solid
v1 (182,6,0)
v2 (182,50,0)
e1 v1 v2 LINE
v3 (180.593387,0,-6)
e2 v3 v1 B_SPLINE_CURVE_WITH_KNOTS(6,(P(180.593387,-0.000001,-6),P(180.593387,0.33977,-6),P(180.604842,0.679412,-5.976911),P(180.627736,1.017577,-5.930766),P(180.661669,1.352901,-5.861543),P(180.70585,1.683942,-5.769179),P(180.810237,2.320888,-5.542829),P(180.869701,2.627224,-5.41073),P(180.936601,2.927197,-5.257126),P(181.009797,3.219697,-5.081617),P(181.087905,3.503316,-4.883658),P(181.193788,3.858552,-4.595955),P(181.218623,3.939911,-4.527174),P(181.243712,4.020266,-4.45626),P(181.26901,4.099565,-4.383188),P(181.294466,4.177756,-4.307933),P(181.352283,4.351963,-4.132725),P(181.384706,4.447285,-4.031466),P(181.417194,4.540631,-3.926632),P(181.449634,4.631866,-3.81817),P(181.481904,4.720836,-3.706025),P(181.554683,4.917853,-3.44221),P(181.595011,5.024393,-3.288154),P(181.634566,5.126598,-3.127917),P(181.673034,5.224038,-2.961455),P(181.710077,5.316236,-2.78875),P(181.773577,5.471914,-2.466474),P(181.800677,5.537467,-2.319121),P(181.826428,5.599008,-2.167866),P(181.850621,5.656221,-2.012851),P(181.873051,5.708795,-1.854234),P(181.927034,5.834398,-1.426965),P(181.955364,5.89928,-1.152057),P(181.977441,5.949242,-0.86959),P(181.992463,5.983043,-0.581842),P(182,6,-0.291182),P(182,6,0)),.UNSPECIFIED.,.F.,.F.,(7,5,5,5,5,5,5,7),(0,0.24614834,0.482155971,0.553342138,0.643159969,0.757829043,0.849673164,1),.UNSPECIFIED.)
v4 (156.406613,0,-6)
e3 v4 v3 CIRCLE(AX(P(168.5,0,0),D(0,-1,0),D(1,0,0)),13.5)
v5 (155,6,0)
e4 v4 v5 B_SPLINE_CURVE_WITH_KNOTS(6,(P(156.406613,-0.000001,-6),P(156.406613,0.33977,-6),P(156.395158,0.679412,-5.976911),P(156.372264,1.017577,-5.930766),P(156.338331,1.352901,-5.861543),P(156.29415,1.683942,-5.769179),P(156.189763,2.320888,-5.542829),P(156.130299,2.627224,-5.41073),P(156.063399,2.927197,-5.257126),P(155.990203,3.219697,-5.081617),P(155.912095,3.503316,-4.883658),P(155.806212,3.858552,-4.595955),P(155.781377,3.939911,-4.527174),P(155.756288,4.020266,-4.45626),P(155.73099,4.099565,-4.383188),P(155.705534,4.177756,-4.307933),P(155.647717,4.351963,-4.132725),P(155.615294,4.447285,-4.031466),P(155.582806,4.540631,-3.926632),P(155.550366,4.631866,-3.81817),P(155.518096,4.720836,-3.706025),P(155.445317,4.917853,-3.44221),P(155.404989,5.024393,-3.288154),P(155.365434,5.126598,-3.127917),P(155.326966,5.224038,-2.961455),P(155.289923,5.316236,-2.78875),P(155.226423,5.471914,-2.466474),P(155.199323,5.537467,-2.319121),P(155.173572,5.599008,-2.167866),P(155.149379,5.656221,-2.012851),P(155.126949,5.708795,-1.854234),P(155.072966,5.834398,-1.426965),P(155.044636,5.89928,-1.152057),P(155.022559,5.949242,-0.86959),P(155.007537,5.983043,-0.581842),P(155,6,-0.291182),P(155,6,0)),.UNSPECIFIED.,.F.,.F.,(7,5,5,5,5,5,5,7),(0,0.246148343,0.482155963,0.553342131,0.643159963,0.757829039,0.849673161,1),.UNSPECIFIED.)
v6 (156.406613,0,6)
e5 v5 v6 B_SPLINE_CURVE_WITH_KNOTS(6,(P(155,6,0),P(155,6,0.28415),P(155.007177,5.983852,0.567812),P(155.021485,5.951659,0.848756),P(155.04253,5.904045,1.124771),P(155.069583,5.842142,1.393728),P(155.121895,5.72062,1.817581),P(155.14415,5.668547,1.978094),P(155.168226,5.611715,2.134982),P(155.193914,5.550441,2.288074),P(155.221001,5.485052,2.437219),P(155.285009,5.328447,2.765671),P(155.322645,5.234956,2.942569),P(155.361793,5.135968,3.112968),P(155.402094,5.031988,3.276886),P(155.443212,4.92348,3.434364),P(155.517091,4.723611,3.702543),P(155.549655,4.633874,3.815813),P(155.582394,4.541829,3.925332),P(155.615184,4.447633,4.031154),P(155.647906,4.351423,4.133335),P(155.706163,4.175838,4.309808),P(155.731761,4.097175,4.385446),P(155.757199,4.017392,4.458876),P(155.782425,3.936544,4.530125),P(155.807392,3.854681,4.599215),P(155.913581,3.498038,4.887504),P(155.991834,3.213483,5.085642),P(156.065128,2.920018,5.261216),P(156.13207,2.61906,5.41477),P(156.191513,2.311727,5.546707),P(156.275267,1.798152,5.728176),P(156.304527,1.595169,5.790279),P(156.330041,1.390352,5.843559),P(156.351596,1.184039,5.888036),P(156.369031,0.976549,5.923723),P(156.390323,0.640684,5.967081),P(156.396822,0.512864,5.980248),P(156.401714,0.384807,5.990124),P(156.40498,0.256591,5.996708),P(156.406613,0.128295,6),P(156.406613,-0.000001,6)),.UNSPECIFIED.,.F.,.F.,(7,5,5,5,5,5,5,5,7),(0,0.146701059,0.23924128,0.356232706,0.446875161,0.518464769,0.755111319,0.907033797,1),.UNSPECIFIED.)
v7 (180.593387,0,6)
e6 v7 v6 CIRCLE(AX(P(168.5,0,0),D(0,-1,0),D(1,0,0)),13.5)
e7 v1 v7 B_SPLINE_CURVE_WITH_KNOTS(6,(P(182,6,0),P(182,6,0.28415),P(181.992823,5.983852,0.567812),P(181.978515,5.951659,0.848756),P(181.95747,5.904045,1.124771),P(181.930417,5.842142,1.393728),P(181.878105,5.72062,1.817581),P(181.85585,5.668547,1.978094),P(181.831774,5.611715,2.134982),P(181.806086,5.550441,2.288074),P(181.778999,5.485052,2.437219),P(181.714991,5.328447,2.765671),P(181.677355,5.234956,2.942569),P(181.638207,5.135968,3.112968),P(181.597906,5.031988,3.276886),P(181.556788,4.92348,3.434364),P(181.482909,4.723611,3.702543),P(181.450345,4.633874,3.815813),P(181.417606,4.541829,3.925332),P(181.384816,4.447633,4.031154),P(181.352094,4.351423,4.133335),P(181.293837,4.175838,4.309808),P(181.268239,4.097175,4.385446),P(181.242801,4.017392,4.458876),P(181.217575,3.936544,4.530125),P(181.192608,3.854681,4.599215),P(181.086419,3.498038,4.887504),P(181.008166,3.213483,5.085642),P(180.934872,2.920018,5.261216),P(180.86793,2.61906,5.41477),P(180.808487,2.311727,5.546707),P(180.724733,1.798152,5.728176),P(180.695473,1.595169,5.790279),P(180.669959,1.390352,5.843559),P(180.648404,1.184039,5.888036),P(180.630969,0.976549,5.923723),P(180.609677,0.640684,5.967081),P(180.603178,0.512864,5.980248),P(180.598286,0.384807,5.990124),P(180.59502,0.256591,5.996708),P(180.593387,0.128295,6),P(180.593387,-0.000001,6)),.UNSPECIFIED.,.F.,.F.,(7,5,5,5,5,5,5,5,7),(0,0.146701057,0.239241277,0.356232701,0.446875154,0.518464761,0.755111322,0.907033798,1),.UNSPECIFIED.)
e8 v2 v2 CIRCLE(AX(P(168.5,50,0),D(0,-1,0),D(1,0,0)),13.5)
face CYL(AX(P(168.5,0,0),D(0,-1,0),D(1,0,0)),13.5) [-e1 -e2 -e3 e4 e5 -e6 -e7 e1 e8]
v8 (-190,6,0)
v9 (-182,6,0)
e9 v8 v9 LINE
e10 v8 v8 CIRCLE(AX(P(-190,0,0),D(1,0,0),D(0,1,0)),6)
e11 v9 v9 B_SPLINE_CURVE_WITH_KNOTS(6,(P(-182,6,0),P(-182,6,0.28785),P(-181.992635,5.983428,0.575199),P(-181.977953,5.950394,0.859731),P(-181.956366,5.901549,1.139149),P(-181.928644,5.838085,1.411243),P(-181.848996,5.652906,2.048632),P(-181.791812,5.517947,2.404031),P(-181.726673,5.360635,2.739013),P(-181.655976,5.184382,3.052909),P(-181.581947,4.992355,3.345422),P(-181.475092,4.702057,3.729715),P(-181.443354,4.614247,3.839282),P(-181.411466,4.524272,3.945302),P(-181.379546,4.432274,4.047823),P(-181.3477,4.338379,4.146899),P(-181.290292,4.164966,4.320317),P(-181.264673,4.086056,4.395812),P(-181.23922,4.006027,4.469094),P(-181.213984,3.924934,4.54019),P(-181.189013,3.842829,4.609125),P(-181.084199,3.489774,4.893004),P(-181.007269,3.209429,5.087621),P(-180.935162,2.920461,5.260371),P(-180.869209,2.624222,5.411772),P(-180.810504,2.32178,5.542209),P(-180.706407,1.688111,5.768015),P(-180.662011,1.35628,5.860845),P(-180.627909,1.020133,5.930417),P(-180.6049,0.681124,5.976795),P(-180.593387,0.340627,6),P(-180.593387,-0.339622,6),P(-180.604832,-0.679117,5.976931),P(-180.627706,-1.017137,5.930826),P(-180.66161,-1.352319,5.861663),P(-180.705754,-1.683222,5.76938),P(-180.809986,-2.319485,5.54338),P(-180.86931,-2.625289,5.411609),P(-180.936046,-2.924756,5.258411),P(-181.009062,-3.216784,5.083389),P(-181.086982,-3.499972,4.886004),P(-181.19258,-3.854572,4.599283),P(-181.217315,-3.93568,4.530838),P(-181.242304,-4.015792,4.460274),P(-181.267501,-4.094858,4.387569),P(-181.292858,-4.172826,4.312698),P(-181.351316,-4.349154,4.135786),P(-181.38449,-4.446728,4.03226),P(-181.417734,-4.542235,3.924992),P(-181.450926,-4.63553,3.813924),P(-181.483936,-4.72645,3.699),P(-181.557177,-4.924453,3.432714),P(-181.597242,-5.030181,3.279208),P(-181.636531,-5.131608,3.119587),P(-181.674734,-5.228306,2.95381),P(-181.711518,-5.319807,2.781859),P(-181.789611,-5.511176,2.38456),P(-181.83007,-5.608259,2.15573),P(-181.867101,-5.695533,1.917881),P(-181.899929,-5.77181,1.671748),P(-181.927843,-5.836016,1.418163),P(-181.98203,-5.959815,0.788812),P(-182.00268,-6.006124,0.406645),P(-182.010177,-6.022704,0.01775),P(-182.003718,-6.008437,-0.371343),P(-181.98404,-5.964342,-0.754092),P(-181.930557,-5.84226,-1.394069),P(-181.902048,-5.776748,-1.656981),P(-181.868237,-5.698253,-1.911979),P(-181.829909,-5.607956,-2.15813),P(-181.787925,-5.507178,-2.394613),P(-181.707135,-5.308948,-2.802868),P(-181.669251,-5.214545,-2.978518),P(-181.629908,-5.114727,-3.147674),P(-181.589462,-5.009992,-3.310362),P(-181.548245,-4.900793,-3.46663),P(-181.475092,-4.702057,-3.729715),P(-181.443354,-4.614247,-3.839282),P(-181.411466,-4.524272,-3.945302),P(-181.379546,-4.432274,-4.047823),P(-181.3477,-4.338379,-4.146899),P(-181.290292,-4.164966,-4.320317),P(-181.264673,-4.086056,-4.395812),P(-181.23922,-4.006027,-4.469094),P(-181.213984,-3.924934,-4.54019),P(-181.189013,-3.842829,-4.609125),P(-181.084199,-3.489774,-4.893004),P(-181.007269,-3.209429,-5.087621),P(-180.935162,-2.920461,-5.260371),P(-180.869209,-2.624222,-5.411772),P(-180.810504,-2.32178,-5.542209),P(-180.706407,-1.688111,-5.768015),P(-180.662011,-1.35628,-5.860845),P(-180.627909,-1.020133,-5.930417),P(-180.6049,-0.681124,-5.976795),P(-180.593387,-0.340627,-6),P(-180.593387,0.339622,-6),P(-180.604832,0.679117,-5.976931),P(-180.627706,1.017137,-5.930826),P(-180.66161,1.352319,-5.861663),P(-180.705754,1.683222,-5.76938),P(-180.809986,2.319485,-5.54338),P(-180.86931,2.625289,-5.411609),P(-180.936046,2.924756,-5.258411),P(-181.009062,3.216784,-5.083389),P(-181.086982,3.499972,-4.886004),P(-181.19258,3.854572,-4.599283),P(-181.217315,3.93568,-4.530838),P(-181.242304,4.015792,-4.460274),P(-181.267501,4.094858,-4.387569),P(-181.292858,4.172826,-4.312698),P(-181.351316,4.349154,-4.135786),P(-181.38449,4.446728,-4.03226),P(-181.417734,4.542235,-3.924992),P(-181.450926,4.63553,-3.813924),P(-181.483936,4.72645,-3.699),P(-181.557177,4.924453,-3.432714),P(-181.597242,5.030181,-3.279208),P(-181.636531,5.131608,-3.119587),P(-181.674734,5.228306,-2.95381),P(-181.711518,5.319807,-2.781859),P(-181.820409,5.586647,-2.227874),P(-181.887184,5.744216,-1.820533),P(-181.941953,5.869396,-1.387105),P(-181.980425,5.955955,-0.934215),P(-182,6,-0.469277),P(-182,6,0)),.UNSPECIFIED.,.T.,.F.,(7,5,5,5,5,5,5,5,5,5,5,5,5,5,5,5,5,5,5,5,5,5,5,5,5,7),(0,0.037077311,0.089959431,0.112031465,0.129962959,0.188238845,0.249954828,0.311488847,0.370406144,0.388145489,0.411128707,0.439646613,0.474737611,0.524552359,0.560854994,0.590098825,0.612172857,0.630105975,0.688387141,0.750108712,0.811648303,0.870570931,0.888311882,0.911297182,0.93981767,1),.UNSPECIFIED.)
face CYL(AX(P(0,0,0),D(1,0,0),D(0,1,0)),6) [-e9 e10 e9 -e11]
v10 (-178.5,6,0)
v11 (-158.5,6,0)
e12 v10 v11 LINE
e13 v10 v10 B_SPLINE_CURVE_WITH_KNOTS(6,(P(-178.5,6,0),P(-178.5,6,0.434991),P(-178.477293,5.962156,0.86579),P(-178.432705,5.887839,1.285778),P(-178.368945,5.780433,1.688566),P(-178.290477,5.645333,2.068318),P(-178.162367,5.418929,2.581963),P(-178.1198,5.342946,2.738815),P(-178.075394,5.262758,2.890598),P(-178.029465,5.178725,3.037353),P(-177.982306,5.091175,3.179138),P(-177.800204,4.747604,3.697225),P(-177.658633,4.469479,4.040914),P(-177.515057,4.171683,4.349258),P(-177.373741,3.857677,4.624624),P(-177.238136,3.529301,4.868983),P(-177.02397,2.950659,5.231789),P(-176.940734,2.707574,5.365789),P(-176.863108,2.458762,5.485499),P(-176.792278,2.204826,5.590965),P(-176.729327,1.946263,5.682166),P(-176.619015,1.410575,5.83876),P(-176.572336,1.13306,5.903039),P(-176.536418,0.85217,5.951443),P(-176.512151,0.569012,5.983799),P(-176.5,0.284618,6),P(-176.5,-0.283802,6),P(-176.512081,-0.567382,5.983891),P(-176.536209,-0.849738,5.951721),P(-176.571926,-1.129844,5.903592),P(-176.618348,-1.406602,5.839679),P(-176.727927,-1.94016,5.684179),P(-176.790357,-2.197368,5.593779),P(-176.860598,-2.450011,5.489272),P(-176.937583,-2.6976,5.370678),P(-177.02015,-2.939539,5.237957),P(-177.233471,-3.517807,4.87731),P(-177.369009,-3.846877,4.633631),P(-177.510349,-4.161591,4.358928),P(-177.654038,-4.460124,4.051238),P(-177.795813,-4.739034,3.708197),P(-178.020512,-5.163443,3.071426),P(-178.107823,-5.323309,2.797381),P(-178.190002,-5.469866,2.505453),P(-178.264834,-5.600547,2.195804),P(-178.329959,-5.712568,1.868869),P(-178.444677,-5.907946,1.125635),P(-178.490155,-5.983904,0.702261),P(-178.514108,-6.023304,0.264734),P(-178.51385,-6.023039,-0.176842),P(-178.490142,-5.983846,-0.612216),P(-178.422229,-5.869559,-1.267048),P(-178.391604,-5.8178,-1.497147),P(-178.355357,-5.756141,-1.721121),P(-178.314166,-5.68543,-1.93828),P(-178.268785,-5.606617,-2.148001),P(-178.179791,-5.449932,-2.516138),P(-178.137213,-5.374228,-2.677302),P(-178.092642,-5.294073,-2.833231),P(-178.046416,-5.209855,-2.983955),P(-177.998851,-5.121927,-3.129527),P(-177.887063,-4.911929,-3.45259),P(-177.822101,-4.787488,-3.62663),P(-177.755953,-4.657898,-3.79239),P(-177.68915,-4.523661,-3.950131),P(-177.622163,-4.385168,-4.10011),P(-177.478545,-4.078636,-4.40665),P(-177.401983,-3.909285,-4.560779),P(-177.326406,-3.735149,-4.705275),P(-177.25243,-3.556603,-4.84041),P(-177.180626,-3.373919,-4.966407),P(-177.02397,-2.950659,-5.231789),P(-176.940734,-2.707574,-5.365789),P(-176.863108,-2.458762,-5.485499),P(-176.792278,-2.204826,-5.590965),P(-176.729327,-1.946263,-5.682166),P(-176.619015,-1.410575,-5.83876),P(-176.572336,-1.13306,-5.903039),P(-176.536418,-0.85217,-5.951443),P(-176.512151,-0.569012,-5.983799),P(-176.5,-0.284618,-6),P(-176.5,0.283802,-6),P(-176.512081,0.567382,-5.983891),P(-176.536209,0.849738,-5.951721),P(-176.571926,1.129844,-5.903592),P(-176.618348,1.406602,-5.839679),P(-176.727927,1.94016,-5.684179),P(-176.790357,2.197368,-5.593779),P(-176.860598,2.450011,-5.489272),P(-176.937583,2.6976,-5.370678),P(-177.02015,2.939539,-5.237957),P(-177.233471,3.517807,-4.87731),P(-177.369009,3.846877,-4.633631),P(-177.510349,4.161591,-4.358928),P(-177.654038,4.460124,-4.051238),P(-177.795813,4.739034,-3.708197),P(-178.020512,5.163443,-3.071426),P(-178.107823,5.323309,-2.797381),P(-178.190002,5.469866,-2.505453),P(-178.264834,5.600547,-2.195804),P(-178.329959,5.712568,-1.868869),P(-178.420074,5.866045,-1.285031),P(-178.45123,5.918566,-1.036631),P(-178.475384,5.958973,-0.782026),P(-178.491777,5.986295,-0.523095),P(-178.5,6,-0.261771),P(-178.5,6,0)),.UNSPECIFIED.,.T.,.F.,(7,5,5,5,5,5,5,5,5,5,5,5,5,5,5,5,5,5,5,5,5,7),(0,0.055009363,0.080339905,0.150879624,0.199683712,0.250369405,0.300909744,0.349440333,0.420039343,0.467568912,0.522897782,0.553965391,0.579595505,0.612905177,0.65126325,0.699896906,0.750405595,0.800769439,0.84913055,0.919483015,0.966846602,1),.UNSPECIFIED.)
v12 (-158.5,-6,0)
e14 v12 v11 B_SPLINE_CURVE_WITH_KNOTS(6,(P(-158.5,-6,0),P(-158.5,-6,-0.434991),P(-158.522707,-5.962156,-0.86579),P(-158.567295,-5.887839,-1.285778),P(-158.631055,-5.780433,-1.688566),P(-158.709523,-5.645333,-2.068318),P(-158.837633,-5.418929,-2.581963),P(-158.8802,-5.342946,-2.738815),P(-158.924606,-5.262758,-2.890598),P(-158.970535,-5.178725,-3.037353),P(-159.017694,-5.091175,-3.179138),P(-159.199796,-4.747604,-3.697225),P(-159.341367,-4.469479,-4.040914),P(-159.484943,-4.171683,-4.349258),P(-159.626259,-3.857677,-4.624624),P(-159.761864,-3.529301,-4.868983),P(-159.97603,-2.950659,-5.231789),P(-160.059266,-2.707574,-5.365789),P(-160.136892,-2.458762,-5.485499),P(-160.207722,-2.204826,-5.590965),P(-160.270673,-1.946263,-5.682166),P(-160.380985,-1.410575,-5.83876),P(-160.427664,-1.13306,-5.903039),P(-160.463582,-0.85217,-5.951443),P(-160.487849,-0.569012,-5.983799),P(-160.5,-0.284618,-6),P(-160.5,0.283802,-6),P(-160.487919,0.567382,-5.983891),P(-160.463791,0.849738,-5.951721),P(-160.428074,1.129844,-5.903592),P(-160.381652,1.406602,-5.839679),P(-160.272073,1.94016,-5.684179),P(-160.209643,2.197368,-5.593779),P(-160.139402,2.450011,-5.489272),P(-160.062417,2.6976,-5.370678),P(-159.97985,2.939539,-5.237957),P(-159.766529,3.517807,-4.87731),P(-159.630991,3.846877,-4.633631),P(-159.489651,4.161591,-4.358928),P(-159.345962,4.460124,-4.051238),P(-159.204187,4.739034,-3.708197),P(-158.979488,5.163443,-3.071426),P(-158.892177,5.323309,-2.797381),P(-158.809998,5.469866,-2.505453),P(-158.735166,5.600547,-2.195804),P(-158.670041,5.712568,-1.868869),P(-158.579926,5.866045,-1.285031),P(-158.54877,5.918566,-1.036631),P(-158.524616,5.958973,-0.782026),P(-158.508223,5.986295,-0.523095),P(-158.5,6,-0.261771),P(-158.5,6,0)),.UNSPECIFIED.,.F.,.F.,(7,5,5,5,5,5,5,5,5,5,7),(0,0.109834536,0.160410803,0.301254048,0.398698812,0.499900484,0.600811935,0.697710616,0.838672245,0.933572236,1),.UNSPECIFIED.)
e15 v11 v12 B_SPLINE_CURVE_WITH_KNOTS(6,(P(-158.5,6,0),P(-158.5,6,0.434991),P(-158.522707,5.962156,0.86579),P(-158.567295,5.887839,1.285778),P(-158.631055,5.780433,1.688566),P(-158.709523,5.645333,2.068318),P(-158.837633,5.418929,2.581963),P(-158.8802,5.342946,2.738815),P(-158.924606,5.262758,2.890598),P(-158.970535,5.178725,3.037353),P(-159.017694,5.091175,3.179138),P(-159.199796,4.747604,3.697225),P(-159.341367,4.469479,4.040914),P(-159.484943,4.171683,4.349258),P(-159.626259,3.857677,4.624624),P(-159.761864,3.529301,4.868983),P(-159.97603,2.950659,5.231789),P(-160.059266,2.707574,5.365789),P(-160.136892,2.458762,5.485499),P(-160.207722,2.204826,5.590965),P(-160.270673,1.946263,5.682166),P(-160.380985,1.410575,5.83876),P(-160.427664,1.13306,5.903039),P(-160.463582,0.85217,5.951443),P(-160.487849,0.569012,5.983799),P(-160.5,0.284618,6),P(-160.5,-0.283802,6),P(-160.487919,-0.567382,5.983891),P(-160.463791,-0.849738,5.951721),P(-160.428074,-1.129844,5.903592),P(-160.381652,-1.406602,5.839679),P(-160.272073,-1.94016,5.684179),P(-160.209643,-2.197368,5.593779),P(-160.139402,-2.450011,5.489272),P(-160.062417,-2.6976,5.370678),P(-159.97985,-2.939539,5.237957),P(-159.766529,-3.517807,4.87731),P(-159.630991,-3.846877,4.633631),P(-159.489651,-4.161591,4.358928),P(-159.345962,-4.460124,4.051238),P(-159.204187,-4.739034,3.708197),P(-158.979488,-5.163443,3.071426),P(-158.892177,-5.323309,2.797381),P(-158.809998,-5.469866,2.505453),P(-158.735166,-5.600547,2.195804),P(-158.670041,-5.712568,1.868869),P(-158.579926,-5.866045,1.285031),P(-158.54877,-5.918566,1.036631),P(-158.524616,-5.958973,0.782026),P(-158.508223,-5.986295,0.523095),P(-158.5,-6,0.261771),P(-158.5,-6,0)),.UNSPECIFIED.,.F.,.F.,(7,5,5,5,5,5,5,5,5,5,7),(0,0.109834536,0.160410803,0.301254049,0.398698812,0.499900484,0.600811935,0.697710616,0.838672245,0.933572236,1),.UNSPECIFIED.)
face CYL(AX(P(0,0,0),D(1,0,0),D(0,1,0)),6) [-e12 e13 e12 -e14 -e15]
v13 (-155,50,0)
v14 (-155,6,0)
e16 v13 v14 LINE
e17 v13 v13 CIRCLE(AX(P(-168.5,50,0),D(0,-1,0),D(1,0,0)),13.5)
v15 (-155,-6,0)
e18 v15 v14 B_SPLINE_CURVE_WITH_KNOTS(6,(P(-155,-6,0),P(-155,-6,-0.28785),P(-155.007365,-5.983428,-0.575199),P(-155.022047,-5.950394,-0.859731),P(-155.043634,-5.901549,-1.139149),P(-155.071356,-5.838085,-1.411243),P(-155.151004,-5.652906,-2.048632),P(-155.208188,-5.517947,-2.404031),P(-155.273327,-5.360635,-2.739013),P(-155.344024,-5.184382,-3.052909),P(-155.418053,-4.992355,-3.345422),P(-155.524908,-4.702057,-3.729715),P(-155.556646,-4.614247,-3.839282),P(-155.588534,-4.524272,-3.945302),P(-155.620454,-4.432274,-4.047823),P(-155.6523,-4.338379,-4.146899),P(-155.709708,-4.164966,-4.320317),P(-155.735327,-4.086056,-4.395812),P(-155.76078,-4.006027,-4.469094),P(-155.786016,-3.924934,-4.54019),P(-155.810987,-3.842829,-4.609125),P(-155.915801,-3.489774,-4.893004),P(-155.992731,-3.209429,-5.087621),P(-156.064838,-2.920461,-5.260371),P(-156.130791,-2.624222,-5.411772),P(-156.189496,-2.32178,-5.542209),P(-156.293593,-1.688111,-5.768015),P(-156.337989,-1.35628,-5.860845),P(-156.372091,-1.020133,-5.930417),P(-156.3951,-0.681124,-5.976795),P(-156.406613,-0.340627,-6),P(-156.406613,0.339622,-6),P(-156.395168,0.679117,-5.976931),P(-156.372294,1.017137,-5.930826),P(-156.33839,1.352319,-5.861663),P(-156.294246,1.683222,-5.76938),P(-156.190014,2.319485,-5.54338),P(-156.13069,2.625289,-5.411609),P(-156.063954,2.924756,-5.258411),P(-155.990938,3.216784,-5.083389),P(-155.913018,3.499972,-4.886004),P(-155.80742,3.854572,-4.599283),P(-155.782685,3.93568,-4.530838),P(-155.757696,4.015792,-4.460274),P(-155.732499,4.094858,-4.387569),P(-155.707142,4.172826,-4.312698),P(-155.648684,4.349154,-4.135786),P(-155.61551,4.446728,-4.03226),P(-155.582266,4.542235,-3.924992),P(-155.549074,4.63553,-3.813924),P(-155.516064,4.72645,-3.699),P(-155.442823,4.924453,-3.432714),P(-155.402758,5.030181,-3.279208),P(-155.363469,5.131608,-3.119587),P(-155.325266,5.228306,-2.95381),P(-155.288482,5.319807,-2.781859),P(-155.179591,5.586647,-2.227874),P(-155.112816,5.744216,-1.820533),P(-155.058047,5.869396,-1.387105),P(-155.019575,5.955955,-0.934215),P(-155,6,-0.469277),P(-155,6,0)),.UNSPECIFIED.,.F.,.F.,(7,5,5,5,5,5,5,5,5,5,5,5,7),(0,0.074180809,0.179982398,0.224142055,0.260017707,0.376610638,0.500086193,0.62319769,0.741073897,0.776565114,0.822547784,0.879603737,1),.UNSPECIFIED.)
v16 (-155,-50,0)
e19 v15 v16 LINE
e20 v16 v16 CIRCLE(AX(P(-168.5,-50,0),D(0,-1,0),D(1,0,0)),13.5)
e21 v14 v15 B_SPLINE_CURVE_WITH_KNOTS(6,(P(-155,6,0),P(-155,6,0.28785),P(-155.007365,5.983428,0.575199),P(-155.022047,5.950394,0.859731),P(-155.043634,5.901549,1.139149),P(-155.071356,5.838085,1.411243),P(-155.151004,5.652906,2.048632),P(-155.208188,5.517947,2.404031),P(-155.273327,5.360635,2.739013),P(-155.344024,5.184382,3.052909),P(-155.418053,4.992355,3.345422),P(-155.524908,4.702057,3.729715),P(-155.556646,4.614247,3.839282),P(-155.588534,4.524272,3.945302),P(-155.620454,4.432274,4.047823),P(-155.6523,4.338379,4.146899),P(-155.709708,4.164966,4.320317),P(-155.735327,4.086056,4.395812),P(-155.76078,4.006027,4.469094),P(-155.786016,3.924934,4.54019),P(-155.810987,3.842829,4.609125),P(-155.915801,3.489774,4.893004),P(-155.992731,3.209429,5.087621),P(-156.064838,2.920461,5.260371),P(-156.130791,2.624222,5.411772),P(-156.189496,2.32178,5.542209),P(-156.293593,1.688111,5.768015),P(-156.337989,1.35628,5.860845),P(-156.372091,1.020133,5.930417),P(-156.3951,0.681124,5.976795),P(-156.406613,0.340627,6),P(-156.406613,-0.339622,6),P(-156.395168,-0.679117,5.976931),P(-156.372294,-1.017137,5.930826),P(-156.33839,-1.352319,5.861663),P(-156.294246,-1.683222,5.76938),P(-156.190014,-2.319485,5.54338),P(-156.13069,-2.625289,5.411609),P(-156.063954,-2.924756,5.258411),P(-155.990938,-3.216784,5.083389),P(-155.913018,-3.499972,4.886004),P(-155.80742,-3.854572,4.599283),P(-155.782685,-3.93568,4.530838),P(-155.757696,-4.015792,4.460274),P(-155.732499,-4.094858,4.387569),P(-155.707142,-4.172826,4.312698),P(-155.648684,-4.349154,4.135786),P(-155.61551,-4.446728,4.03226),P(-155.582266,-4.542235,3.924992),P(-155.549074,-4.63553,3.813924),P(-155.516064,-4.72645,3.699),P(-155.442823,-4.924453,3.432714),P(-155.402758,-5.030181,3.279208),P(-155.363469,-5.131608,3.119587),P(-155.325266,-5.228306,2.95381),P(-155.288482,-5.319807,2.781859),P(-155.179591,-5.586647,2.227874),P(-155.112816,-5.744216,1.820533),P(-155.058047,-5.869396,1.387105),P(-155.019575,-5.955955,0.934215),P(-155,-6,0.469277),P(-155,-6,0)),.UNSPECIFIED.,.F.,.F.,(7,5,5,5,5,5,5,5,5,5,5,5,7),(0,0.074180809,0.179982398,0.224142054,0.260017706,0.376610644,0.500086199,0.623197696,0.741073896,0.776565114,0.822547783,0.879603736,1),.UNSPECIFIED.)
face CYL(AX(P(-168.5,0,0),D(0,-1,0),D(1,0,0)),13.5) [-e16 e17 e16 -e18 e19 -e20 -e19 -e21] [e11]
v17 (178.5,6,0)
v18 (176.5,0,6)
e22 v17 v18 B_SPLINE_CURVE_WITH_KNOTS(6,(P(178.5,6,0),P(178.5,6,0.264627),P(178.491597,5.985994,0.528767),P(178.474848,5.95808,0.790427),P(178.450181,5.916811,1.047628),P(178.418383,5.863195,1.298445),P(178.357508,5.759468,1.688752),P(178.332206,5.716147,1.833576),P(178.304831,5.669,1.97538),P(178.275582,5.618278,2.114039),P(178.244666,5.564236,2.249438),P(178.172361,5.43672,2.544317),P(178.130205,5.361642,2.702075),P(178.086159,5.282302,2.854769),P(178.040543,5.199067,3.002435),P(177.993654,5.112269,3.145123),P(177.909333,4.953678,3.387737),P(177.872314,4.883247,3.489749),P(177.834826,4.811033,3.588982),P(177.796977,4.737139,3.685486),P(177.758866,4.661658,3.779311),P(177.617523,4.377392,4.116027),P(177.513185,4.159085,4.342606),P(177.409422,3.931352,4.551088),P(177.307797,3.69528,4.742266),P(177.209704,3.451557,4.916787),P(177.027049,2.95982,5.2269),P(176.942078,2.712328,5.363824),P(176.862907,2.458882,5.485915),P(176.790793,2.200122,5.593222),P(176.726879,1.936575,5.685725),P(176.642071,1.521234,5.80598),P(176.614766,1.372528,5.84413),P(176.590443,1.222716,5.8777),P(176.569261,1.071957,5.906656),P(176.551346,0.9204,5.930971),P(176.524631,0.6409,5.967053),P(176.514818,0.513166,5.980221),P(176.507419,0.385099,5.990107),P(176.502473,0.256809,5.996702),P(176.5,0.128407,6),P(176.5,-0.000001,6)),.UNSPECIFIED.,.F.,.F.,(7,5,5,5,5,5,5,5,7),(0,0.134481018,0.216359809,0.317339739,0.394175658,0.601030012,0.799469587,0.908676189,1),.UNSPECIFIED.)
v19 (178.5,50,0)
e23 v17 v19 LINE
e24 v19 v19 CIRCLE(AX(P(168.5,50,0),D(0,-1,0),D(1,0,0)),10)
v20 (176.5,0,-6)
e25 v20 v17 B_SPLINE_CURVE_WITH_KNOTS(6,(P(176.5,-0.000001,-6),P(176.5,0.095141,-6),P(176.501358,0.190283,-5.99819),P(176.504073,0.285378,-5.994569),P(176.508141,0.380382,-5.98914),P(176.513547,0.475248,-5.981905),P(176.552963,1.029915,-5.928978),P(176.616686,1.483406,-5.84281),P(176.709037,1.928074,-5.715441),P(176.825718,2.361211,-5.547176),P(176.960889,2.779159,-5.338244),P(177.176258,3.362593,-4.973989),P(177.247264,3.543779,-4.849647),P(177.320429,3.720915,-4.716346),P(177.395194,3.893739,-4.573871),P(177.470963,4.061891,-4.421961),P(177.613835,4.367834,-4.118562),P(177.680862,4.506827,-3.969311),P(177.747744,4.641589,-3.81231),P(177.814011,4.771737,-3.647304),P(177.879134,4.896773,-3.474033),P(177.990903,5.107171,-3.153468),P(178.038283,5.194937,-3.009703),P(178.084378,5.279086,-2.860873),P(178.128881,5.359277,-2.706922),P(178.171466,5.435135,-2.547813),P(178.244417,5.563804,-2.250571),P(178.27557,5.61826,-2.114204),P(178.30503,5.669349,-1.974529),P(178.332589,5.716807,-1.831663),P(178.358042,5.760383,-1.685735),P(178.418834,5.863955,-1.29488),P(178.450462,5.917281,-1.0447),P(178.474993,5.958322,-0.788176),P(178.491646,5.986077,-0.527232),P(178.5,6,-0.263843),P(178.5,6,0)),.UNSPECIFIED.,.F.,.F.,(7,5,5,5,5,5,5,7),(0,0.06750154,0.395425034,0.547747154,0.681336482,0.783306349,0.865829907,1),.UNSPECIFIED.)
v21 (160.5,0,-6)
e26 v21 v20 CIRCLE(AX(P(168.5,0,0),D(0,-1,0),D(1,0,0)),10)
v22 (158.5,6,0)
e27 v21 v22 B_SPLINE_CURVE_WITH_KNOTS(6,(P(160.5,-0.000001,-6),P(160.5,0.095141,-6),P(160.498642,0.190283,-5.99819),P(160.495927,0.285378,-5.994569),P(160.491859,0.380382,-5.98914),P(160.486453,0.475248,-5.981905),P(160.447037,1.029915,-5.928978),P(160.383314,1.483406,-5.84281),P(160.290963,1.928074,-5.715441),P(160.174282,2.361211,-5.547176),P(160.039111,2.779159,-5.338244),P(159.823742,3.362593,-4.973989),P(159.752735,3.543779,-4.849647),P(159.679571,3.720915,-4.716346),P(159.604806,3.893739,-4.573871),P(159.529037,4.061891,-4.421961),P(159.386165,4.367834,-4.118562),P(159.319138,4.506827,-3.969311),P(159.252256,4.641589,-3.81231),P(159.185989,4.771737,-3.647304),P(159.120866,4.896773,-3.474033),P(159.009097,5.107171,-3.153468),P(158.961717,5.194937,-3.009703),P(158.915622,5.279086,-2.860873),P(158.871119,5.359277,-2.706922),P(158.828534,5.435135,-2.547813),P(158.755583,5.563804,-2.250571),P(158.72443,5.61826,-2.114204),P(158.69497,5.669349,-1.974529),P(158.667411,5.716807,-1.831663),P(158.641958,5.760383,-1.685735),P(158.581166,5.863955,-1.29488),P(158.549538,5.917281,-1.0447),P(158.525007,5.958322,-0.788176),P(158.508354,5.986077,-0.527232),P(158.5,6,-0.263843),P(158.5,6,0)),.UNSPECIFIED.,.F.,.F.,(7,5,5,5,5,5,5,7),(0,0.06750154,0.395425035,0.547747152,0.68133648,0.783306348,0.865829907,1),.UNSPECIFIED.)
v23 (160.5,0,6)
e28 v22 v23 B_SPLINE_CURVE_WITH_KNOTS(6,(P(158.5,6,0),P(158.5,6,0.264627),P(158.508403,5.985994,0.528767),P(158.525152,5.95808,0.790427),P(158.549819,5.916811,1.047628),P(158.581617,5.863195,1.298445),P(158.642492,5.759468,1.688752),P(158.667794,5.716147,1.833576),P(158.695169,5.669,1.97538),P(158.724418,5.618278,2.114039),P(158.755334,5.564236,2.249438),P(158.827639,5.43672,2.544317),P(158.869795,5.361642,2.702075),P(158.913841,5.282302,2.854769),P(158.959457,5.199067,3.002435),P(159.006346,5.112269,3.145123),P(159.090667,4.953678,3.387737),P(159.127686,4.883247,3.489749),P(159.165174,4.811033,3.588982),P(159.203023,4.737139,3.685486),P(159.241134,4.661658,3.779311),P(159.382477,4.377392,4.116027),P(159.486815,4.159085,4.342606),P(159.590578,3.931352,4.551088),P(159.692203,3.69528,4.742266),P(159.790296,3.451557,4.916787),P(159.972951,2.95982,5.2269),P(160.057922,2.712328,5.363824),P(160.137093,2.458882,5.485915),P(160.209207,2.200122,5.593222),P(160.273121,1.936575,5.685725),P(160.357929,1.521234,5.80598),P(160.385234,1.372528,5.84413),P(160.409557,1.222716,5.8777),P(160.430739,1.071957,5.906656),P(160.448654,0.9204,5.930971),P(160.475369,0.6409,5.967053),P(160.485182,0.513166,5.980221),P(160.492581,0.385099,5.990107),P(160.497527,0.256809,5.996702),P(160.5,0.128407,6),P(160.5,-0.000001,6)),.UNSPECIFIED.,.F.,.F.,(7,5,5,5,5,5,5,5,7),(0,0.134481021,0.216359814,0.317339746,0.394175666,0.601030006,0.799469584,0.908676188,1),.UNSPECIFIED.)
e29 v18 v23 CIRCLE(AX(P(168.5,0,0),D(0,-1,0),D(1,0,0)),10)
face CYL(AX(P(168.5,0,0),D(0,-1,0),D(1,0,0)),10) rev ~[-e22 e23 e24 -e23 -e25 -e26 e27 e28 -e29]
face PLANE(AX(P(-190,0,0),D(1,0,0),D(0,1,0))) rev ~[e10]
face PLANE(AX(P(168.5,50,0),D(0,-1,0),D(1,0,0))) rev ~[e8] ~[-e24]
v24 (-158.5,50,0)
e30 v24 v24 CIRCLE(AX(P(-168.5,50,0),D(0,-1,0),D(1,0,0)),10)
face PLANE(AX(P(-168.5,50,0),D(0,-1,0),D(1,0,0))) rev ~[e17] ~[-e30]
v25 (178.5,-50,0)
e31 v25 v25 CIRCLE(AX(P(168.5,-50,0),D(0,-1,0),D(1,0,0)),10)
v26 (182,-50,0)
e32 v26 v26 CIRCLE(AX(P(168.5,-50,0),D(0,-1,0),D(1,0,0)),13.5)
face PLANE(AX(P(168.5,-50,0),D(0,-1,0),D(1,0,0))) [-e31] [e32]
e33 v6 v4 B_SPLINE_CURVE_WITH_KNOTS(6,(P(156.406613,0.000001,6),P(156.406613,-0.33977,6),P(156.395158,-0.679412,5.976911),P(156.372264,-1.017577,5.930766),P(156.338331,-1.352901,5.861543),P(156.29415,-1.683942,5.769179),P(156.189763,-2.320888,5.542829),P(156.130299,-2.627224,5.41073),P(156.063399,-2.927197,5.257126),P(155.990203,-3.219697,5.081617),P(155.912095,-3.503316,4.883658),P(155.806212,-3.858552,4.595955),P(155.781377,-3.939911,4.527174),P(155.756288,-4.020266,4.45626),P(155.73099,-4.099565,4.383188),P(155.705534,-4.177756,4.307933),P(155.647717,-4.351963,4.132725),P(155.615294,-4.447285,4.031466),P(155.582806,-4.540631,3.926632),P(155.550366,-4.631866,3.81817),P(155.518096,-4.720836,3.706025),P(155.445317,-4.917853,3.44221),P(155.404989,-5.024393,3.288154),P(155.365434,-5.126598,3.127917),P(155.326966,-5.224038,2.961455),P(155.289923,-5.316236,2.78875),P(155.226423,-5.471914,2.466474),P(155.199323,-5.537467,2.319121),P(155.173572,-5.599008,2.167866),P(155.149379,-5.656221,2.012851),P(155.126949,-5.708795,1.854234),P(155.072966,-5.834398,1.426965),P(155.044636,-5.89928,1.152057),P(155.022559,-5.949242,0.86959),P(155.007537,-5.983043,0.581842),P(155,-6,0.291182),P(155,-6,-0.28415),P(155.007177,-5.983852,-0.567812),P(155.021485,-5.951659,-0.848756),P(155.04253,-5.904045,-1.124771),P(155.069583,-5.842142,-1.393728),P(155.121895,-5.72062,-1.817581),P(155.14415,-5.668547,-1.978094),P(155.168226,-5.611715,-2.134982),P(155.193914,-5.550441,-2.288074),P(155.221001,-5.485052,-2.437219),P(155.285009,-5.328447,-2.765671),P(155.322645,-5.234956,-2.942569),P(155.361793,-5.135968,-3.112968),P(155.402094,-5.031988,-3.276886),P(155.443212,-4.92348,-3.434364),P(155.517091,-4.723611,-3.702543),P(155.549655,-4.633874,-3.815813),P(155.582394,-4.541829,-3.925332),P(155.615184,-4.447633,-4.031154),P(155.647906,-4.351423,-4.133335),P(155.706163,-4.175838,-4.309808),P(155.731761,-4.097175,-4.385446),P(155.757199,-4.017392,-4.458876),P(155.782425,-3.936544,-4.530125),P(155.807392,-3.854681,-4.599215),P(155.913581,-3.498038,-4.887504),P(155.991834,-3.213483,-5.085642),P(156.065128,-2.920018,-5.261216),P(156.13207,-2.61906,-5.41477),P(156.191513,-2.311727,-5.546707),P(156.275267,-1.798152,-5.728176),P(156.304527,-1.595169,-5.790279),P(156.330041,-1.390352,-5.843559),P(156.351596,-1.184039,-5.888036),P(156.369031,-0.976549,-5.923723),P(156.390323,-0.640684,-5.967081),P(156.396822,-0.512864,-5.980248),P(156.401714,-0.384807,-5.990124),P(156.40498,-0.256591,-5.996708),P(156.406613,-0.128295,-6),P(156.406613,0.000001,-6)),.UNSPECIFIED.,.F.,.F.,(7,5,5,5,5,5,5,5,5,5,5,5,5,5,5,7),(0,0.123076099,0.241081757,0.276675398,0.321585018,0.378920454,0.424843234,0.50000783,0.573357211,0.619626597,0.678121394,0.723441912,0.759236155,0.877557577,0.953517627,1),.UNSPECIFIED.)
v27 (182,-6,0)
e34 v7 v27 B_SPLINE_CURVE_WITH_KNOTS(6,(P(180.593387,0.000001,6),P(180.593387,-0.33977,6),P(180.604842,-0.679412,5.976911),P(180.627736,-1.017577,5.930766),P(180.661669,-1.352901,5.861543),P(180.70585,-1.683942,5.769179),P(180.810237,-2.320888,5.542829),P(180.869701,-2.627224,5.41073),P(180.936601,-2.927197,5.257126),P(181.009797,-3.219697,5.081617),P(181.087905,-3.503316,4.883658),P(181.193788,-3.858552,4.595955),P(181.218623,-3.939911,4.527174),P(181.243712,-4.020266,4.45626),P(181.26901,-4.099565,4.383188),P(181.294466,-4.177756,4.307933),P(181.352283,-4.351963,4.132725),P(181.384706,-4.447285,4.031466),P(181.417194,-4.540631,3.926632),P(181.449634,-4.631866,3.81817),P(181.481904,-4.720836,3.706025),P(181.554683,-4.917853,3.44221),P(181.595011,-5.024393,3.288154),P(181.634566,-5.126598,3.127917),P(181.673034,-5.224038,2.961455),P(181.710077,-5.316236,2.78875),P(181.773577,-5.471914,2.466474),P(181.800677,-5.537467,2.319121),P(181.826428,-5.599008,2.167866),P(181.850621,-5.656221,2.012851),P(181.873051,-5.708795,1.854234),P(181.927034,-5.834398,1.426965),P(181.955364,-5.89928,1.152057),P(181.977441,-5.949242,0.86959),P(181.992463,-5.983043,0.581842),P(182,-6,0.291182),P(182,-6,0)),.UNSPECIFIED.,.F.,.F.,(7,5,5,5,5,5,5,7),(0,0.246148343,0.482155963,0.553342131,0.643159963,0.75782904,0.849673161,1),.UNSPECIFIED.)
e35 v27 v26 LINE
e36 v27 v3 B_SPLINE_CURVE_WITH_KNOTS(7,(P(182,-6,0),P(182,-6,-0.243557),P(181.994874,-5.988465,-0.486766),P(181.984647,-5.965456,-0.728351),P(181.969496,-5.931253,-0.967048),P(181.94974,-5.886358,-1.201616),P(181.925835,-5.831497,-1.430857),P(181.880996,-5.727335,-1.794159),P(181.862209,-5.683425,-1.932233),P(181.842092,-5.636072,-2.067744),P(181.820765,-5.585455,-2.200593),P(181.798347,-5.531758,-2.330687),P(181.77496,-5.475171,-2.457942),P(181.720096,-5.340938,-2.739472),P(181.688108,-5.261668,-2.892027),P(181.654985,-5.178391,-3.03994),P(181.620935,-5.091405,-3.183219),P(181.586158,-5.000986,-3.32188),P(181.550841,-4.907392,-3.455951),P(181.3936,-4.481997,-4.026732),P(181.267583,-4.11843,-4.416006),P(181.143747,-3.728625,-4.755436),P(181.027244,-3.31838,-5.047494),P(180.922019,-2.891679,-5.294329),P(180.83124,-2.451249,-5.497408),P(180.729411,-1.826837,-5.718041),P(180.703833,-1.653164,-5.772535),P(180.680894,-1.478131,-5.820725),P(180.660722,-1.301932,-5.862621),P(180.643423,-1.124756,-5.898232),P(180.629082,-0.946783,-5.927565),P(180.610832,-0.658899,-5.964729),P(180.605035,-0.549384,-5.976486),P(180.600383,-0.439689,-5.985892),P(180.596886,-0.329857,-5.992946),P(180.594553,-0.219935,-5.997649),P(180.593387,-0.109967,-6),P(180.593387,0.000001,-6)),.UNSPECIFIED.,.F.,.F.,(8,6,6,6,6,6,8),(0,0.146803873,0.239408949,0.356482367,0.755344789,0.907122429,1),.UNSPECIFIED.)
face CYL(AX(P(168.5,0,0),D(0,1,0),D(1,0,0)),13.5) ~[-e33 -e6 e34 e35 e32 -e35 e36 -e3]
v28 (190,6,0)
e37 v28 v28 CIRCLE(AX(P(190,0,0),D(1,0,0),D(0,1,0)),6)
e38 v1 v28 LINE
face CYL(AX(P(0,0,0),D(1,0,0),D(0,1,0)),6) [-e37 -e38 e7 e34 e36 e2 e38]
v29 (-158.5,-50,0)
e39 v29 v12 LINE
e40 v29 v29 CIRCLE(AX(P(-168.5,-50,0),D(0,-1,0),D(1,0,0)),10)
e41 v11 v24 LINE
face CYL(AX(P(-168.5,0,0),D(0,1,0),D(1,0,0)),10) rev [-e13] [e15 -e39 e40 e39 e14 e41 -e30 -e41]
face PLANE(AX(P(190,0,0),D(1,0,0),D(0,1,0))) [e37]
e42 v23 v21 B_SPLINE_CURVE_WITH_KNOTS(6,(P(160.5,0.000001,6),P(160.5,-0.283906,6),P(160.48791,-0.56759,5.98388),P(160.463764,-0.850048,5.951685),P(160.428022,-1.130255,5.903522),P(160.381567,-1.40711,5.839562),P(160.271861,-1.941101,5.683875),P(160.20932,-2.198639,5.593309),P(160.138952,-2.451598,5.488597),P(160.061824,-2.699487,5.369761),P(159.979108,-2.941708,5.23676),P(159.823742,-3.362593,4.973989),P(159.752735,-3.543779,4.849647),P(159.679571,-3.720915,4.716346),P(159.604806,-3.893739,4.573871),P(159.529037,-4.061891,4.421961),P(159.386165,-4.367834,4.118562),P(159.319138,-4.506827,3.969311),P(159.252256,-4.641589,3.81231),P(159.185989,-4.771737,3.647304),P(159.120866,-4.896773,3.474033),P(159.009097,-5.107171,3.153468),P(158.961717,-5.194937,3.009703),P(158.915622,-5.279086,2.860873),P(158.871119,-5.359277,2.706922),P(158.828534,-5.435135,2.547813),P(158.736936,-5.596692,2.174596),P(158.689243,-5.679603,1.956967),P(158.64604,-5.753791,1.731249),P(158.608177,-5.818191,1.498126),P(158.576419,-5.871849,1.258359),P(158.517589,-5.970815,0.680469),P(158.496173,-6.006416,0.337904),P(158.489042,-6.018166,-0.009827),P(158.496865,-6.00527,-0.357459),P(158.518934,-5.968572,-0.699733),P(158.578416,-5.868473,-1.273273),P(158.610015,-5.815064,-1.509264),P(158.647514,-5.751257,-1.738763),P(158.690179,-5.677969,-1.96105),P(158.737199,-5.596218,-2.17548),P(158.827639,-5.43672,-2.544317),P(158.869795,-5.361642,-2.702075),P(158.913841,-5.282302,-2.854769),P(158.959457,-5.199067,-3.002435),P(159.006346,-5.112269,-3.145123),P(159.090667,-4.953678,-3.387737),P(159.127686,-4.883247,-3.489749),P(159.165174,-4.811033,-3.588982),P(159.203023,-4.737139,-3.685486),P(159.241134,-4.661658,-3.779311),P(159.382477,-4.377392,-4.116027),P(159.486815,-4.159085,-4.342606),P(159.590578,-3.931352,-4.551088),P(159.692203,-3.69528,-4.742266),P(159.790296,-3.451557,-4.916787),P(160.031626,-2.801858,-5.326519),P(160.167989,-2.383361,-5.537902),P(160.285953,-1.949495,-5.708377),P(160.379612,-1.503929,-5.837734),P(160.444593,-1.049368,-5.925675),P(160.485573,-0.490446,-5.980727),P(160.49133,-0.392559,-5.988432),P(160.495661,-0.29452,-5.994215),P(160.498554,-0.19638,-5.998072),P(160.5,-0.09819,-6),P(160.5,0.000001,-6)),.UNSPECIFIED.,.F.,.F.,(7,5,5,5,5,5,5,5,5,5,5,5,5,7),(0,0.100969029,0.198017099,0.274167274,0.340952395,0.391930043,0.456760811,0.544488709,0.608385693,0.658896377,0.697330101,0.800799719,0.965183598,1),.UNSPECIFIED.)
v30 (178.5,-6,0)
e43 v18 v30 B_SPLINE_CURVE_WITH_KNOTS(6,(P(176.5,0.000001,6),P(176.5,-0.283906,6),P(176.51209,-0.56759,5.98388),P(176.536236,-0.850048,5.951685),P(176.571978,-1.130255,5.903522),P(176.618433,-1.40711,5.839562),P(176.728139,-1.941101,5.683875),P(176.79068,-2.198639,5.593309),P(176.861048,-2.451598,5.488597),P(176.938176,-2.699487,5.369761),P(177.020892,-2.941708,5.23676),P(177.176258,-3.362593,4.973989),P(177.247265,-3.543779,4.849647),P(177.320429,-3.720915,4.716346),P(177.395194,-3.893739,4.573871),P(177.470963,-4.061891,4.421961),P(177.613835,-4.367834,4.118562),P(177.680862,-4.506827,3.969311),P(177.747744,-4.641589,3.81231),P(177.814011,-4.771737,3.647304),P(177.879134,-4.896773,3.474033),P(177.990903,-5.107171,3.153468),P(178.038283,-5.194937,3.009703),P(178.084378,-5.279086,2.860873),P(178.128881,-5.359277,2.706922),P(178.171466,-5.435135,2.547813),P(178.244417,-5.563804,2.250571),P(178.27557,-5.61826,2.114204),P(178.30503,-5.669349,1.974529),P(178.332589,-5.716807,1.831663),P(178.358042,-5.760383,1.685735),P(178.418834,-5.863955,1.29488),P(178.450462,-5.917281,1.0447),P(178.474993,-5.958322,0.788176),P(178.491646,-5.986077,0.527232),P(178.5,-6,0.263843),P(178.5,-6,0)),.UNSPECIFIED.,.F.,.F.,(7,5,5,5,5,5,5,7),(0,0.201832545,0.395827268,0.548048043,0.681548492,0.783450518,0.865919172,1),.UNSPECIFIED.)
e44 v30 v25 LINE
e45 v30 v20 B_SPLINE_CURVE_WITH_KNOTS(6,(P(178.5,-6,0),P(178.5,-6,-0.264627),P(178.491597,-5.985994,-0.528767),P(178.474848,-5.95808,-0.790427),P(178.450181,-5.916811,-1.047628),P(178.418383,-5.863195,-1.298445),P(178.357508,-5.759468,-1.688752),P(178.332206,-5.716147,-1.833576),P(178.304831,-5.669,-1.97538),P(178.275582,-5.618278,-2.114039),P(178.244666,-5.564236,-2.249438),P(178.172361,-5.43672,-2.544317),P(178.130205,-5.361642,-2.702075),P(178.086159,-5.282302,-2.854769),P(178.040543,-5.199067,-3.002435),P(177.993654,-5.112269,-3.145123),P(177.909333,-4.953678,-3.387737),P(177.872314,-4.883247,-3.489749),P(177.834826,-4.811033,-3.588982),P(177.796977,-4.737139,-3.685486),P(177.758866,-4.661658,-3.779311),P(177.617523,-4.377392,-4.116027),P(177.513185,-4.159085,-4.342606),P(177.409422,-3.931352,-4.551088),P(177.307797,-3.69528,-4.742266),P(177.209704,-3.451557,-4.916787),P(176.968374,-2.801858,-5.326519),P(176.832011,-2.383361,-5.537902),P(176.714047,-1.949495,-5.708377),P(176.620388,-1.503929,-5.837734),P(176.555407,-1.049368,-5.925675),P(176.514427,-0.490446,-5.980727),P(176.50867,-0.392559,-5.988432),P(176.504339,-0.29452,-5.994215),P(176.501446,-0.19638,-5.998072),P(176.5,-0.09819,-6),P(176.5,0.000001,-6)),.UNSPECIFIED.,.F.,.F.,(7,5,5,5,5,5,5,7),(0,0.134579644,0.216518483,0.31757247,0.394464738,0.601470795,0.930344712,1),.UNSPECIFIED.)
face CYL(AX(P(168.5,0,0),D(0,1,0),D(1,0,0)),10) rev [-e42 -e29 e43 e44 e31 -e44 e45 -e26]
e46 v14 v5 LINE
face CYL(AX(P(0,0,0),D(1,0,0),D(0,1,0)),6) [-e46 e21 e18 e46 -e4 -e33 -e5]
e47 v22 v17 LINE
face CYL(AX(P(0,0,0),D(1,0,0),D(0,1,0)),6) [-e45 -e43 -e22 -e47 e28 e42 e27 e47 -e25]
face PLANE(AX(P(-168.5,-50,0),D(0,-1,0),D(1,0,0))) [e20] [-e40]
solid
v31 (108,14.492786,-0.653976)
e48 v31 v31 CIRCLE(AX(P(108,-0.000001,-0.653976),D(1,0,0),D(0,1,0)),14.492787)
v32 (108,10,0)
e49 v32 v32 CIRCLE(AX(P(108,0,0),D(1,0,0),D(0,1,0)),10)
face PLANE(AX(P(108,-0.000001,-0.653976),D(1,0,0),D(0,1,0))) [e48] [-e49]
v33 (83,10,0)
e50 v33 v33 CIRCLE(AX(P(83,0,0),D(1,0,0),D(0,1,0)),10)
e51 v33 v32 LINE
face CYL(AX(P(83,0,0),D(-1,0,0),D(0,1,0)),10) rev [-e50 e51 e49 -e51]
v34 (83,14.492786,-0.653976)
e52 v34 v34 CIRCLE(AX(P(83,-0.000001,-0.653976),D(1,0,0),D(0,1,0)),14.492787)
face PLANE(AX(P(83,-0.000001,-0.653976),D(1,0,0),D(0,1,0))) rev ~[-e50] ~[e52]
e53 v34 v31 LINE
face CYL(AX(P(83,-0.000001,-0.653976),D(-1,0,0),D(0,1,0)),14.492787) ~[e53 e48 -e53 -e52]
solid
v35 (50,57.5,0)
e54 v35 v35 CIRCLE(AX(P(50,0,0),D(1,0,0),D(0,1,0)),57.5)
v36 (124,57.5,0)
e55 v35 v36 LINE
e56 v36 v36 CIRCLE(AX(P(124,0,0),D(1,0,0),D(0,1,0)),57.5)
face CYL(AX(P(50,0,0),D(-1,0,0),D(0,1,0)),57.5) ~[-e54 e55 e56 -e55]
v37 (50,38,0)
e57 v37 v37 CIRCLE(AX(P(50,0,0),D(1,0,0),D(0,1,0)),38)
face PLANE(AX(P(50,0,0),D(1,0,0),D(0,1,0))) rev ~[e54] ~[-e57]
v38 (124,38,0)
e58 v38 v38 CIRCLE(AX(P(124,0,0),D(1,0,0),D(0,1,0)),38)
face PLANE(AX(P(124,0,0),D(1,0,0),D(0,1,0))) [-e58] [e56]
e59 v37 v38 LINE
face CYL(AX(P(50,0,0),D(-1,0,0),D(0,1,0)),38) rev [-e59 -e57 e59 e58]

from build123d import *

# Parameters (mm, degrees)
F0_R     = 6
F1_DEPTH = 190
F2_R     = 13.5
F2_R_2   = 10
F3_DEPTH = 50
F5_R     = 57.5
F5_R_2   = 38
F6_DEPTH = 74
F8_R     = 14.492787
F8_R_2   = 10
F9_DEPTH = 25


with BuildPart() as f1:
    # F0 (on Right) → F1 (new body, symmetric)
    with BuildSketch(Plane.YZ):
        Circle(F0_R)
    extrude(amount=F1_DEPTH, both=True)

    # F2 (on Front) → F3 (join, symmetric)
    with BuildSketch(Plane.XZ):
        with Locations((168.5, 0)):
            Circle(F2_R)
        with Locations((168.5, 0)):
            Circle(F2_R_2, mode=Mode.SUBTRACT)
        with Locations((-168.5, 0)):
            Circle(F2_R)
        with Locations((-168.5, 0)):
            Circle(F2_R_2, mode=Mode.SUBTRACT)
    extrude(amount=F3_DEPTH, both=True)


with BuildPart() as f6:
    # F5 (on offset) → F6 (new body)
    with BuildSketch(Plane.YZ.offset(50)):
        Circle(F5_R)
        Circle(F5_R_2, mode=Mode.SUBTRACT)
    extrude(amount=F6_DEPTH)


with BuildPart() as f9:
    # F8 (on offset) → F9 (new body)
    with BuildSketch(Plane.YZ.offset(83)):
        with Locations((-1e-06, -0.653976)):
            Circle(F8_R)
        Circle(F8_R_2, mode=Mode.SUBTRACT)
    extrude(amount=F9_DEPTH)


solid = Compound([f1.part, f6.part, f9.part])
